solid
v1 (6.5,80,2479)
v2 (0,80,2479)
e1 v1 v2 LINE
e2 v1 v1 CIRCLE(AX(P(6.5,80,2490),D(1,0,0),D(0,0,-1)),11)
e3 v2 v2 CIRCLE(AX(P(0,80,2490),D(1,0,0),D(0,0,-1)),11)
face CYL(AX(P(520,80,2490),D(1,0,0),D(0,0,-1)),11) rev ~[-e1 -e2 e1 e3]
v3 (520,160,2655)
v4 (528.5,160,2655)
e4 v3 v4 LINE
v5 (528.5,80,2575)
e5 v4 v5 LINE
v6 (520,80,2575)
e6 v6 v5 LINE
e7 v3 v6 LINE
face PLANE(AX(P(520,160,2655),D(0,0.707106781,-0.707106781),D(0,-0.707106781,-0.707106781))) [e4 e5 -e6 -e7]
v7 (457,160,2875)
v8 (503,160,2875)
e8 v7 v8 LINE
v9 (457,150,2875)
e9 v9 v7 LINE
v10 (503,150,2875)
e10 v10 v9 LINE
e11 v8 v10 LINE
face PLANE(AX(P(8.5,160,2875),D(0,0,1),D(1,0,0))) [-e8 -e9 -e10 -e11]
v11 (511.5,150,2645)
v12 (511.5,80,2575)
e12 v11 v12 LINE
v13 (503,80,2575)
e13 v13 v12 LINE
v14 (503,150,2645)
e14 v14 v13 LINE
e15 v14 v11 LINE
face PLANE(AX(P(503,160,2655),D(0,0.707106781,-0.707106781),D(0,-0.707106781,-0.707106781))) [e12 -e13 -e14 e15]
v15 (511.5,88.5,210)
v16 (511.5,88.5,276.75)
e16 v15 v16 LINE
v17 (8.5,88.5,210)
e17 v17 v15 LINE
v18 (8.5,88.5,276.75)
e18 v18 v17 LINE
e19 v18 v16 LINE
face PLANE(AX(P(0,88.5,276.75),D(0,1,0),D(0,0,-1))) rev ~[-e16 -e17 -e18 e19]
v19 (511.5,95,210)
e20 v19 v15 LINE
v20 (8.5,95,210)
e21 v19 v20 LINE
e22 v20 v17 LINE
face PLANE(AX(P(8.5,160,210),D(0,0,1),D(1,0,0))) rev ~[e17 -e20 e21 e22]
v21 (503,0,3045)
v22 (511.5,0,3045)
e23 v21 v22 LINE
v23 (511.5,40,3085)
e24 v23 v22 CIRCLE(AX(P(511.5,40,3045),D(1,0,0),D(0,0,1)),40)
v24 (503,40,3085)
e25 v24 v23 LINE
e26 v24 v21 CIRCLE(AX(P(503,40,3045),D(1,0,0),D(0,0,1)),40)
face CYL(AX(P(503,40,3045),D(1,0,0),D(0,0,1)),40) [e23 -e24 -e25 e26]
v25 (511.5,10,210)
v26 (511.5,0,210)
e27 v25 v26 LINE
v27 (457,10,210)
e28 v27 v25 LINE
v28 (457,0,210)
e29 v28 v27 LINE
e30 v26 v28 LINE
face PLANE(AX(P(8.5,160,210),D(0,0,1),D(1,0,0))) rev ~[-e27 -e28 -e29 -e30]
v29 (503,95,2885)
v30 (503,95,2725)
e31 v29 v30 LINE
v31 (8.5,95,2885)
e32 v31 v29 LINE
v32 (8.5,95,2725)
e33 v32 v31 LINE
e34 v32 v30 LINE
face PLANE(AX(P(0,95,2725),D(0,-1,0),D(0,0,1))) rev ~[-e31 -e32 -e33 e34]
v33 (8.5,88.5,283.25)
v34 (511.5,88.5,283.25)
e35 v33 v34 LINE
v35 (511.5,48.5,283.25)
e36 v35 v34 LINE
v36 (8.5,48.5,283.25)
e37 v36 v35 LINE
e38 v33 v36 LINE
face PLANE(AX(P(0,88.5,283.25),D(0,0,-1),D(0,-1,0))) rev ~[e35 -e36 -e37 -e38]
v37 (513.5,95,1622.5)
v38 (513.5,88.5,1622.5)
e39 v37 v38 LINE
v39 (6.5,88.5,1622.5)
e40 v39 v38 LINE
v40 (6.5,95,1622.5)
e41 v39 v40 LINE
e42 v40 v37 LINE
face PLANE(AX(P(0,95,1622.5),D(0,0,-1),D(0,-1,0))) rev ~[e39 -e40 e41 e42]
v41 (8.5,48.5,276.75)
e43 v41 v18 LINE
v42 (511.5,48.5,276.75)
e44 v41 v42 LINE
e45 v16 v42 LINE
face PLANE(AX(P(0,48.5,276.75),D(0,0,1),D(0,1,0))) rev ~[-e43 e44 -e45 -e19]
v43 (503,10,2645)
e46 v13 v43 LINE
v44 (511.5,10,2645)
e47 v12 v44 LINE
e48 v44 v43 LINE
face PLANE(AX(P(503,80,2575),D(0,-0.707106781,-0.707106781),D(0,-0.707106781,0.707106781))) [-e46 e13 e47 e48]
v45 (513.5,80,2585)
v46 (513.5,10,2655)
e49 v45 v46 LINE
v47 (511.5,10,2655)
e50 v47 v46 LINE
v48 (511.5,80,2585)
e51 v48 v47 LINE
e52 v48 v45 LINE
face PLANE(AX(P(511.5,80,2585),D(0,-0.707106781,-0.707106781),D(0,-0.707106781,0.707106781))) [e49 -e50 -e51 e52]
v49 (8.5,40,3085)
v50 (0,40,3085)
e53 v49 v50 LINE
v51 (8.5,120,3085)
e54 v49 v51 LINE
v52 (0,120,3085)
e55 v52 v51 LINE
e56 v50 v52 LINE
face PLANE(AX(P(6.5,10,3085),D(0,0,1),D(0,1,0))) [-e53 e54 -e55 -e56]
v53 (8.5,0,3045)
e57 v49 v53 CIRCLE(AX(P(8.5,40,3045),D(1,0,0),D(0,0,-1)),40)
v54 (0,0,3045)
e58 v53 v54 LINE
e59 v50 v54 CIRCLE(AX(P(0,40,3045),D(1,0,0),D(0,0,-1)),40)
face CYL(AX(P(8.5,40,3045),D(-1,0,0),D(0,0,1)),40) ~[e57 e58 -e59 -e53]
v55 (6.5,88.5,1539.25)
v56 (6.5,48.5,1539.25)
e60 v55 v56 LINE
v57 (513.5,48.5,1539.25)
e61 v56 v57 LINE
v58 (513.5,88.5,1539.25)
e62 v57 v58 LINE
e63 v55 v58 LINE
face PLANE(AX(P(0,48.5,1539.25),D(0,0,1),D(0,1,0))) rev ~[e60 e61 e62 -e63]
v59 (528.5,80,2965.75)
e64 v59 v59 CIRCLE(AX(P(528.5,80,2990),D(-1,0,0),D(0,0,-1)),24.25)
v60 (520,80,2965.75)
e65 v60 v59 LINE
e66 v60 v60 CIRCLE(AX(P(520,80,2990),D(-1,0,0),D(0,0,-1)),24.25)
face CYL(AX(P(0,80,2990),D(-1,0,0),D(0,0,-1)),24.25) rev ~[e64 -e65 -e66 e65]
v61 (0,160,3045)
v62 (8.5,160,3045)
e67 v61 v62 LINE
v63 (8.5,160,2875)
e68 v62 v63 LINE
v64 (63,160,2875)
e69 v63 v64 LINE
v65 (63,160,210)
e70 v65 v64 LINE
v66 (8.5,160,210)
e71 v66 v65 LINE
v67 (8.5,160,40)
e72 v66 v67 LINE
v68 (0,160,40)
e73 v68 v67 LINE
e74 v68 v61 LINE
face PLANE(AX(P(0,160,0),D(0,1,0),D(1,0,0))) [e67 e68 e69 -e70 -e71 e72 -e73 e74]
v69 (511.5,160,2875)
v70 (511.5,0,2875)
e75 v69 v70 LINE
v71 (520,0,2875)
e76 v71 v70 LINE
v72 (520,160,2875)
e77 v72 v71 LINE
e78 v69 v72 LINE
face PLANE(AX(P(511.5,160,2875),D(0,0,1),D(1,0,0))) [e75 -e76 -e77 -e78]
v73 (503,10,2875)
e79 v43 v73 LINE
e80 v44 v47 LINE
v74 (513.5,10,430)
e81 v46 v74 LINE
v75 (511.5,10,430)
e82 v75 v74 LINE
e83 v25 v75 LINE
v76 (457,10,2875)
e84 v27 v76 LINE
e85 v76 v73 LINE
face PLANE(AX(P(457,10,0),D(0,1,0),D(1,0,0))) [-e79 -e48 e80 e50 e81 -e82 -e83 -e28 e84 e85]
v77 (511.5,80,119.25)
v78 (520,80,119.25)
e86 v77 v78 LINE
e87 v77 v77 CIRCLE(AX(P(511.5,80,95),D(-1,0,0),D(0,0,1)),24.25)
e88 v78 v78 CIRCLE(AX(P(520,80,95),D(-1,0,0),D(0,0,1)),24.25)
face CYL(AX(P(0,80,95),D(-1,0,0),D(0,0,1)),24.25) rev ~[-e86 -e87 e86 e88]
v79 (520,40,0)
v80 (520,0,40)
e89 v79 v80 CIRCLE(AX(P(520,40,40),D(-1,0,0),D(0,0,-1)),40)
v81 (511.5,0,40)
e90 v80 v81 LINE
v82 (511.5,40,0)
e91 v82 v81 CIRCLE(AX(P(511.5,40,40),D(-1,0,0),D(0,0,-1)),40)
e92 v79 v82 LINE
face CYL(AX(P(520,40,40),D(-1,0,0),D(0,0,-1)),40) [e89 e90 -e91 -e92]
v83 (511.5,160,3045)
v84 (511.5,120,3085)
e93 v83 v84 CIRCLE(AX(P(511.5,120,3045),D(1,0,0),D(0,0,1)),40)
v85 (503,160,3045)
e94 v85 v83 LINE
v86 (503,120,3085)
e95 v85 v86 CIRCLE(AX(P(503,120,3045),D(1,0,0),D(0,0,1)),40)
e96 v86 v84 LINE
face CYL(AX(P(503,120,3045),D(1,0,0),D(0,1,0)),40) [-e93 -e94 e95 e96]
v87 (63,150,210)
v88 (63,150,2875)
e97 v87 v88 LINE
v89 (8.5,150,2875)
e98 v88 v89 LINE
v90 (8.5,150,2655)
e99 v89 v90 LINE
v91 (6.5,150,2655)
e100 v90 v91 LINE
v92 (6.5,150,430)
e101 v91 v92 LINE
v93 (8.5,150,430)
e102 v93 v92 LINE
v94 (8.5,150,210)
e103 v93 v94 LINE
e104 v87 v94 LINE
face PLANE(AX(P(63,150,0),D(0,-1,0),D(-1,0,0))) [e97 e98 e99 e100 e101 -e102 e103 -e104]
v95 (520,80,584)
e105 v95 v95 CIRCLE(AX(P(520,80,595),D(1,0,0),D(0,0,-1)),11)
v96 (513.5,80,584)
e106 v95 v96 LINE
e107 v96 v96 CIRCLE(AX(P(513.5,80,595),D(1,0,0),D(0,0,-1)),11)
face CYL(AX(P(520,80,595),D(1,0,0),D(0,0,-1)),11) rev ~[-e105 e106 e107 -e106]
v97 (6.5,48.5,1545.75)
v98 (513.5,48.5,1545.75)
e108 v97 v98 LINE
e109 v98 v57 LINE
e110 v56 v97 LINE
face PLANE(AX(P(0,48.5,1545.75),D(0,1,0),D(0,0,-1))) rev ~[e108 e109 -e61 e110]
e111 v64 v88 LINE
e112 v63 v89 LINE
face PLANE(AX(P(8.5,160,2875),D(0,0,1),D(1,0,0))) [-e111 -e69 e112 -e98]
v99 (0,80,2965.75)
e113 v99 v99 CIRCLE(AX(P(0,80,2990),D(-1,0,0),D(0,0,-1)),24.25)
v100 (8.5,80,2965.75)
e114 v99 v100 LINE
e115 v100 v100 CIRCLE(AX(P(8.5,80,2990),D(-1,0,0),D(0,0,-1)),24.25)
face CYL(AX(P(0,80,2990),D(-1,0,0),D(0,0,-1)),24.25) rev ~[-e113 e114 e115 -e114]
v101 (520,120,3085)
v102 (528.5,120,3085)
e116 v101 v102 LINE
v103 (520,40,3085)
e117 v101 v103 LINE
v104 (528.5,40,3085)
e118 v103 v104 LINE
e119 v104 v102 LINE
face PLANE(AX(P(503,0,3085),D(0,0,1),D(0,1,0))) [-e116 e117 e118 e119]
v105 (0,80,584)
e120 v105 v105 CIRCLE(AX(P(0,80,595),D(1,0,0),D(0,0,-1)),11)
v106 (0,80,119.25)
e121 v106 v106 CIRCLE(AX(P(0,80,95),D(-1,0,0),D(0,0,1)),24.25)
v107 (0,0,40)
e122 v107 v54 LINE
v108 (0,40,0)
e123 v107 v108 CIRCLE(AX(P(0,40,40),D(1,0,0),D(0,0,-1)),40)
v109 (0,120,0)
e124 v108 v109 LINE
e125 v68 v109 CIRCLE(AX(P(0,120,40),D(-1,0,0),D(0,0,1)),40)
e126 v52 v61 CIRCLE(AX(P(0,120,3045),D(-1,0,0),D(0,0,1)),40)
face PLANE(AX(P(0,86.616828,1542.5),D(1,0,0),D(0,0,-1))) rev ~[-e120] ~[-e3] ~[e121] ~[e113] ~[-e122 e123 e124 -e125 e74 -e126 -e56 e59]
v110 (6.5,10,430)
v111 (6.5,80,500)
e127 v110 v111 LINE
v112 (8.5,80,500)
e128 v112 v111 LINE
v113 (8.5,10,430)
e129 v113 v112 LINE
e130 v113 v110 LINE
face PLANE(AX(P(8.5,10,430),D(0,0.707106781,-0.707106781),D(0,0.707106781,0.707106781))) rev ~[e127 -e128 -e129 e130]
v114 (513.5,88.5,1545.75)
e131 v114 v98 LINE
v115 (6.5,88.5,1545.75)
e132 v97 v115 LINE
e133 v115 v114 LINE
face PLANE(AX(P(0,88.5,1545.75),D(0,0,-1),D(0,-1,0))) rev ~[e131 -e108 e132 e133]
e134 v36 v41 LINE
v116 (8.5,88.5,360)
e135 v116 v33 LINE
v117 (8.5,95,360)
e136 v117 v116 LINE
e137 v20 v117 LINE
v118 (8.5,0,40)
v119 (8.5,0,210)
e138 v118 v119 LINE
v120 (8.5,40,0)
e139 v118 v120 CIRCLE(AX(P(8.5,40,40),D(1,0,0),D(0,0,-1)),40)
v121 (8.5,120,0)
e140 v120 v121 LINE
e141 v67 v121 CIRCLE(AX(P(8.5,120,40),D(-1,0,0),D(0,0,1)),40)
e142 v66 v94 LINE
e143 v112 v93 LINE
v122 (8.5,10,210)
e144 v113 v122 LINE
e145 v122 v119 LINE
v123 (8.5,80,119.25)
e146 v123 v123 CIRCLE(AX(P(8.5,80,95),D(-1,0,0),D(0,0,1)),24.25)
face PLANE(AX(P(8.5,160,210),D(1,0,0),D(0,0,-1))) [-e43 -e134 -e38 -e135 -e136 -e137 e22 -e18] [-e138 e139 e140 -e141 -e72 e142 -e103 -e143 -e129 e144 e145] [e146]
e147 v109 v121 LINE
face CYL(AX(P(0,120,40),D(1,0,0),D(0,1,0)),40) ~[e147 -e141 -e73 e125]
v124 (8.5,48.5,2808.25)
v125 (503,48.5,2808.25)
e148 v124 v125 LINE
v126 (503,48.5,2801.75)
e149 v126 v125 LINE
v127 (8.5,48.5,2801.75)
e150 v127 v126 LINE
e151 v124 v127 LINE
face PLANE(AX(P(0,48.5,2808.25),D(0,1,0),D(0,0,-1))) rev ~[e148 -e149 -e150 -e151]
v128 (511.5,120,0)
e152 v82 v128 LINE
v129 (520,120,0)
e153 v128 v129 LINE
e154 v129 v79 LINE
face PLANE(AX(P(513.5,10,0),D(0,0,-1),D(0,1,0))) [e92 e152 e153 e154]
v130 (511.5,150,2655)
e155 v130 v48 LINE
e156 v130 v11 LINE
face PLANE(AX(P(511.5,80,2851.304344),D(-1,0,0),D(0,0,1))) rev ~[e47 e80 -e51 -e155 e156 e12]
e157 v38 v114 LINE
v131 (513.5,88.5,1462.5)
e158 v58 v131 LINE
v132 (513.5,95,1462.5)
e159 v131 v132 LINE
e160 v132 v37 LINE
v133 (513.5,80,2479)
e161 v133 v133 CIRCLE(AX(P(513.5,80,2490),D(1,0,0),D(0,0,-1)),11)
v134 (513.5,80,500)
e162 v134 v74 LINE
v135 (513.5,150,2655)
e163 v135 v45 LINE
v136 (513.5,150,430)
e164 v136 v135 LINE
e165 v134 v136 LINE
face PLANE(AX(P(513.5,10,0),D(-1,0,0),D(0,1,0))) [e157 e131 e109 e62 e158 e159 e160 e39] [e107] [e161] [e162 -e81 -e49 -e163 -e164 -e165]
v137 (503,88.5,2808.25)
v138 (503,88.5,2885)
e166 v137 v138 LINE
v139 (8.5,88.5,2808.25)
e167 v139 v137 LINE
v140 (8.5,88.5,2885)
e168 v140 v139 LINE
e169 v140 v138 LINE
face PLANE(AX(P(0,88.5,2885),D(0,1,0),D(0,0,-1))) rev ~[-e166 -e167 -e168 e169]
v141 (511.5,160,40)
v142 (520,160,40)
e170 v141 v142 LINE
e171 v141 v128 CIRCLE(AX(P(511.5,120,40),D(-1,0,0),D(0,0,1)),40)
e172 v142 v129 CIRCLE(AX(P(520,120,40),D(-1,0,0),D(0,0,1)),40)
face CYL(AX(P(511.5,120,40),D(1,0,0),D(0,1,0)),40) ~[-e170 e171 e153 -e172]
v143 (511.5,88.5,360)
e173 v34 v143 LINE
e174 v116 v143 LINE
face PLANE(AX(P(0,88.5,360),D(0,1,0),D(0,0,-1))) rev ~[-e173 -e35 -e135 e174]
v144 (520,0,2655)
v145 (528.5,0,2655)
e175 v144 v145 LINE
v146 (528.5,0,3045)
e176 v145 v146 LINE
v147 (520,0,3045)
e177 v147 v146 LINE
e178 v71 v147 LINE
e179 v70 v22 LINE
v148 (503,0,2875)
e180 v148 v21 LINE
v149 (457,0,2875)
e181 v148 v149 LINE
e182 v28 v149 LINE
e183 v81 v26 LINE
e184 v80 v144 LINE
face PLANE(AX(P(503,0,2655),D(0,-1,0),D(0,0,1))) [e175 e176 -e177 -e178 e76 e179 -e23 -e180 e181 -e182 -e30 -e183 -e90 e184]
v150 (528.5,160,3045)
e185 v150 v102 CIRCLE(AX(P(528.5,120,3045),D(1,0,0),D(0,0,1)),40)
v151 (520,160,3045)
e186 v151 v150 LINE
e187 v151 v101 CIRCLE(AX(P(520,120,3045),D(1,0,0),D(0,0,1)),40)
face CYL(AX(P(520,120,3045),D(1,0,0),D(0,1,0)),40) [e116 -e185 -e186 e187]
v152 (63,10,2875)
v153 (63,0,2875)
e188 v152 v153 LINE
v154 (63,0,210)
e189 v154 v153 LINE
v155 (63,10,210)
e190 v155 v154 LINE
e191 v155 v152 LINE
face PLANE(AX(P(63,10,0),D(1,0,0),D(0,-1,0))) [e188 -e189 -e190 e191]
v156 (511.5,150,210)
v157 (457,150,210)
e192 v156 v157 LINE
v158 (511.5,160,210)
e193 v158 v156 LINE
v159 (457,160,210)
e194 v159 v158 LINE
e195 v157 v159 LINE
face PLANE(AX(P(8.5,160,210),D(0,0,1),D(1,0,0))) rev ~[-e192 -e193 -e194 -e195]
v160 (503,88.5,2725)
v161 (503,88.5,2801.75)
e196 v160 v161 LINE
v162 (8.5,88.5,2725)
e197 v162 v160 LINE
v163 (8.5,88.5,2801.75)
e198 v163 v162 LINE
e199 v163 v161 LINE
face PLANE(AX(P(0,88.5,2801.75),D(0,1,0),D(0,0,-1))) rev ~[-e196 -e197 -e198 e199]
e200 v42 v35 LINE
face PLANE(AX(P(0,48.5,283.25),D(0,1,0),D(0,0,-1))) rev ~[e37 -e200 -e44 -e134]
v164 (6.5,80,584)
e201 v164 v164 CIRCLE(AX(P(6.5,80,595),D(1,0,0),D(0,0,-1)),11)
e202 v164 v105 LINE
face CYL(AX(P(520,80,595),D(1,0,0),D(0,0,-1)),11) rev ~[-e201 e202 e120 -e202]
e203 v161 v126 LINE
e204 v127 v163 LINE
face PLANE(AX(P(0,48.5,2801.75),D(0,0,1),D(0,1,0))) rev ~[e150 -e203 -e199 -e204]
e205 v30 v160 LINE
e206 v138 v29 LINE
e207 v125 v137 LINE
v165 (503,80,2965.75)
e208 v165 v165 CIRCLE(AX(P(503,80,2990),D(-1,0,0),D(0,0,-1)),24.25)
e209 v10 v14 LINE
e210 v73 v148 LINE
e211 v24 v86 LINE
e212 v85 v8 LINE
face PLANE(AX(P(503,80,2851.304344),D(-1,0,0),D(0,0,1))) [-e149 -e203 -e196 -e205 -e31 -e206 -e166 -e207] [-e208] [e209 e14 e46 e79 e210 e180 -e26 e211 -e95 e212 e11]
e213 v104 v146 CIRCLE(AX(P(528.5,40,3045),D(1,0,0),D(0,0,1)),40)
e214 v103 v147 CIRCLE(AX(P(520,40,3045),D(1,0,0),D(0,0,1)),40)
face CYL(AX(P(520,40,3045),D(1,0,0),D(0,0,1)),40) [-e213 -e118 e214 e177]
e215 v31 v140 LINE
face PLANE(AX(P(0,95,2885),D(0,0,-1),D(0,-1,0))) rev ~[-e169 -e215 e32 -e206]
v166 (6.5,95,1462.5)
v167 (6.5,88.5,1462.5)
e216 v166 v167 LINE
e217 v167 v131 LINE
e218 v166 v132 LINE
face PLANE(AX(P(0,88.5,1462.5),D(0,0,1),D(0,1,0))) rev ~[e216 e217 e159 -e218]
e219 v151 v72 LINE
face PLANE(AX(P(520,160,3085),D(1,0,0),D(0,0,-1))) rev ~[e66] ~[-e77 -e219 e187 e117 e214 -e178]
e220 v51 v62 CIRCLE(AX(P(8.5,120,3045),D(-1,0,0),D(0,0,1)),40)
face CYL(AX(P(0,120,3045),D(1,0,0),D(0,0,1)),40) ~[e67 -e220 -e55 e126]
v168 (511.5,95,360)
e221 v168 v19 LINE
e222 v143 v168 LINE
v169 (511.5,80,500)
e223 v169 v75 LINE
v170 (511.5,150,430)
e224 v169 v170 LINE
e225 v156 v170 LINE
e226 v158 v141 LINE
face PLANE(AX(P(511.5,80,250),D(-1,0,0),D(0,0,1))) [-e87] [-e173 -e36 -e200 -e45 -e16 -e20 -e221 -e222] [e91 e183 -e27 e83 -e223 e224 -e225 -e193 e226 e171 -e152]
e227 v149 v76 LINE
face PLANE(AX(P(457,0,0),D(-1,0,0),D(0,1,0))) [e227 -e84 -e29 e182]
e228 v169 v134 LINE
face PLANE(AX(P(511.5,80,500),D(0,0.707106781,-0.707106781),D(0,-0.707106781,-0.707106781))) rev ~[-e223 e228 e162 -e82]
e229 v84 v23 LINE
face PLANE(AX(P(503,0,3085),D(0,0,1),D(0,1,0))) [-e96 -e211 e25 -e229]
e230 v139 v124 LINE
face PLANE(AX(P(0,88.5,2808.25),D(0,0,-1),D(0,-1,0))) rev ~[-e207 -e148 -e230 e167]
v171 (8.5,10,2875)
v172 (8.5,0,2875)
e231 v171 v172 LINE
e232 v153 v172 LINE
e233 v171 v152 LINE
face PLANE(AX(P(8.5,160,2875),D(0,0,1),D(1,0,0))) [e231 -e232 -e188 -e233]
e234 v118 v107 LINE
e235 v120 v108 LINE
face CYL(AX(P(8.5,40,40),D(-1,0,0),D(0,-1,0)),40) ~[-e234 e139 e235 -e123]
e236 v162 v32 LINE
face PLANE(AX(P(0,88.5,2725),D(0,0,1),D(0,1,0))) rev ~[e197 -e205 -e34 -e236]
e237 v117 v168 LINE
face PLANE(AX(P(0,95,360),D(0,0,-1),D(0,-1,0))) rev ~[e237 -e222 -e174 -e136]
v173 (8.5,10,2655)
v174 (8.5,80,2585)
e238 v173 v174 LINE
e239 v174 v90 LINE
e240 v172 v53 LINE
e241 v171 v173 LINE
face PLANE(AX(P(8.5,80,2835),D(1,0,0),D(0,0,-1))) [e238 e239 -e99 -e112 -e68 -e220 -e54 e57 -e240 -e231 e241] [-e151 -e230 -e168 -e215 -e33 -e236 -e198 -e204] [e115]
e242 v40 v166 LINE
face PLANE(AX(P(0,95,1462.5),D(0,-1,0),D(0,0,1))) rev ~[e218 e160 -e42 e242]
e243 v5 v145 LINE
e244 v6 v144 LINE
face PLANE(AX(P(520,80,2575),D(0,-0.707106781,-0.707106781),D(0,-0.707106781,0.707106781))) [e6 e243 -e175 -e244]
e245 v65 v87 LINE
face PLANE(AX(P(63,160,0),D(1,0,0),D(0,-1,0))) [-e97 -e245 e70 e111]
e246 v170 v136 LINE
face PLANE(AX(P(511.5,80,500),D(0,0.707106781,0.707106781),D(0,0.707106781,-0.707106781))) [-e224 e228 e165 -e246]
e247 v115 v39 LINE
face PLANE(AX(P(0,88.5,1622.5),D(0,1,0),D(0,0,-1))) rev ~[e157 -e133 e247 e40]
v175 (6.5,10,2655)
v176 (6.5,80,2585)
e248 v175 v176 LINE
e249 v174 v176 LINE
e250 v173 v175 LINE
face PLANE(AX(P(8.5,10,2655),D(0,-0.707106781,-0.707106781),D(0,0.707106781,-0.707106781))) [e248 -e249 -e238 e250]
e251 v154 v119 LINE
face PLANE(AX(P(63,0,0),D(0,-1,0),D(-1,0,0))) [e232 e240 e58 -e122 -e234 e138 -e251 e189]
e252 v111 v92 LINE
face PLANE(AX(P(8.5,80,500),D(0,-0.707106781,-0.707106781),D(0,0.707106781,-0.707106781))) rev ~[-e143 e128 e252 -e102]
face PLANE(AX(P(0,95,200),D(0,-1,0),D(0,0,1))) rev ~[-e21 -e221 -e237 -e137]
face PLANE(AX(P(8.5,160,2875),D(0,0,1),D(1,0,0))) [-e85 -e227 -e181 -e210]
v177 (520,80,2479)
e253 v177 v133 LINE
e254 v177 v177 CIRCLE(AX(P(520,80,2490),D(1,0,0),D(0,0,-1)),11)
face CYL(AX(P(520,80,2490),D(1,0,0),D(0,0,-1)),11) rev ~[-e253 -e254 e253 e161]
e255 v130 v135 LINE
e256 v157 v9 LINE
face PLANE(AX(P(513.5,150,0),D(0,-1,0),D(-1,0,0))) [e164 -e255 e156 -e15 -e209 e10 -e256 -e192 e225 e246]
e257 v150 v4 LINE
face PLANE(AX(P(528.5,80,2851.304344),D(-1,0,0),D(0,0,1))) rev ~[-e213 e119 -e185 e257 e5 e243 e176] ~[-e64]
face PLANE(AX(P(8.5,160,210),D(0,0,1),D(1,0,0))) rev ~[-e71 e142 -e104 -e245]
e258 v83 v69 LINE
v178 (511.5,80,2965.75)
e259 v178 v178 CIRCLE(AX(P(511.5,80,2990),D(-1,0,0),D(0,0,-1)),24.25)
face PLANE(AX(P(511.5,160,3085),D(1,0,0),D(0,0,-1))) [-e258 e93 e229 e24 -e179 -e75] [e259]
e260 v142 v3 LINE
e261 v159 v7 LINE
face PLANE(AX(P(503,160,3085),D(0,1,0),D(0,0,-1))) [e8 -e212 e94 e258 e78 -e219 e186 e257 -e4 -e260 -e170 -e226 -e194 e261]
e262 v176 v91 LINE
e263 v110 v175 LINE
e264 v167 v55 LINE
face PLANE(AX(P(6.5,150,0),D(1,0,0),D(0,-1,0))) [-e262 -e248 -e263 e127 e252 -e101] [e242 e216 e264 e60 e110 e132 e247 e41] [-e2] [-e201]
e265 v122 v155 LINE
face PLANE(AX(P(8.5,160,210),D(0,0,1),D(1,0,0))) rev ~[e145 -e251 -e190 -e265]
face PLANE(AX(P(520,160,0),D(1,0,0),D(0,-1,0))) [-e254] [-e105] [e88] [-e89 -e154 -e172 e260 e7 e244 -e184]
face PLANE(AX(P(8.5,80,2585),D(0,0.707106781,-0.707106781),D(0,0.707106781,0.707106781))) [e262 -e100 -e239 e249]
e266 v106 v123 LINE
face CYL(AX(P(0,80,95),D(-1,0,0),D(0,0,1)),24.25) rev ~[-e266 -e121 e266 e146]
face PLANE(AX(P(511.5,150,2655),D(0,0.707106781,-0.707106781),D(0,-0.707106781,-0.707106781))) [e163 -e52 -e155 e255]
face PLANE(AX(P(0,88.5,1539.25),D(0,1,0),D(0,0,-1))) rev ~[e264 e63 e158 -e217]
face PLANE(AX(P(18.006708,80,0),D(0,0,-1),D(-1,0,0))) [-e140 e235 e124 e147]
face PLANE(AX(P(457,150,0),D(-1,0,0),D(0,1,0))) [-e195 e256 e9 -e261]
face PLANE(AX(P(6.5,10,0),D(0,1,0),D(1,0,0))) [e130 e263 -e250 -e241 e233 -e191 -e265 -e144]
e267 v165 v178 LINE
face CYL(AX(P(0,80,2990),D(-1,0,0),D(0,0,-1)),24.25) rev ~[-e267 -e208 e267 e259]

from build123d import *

# Parameters (mm, degrees)
EXTRUDE_1_DEPTH        = 3085
EXTRUDE_1_2_DEPTH      = 3085
EXTRUDE_3_DEPTH        = 520
SKETCH_6_W             = 503
SKETCH_6_H             = 210
CUT_EXTRUDE_4_DEPTH    = 3133.606741996
PATTERN_LINEAR_1_COUNT = 3
PATTERN_LINEAR_1_PITCH = 1262.5
SKETCH_7_W             = 500
SKETCH_7_H             = 140
EXTRUDE_5_DEPTH        = 2
CUT_EXTRUDE_6_DEPTH    = 2
CUT_EXTRUDE_7_DEPTH    = 2
SKETCH_15_W            = 500
SKETCH_15_H            = 140
EXTRUDE_8_DEPTH        = 2
CUT_EXTRUDE_9_DEPTH    = 2
CUT_EXTRUDE_10_DEPTH   = 2
EXTRUDE_11_DEPTH       = 8.5
PATTERN_LINEAR_2_COUNT = 2
PATTERN_LINEAR_2_PITCH = 17
SKETCH_22_W            = 8.5
SKETCH_22_H            = 210
CUT_EXTRUDE_12_DEPTH   = 3135.028916586
FILLET_1_R             = 40
SKETCH_23_R            = 24.25
CUT_EXTRUDE_13_DEPTH   = 3135.028916586
SKETCH_24_R            = 11
CUT_EXTRUDE_14_DEPTH   = 3133.606741996


with BuildPart() as part:
    # 草图2 → 拉伸1 (new body)
    with BuildSketch(Plane.XY):
        Polygon((0, 0), (0, 160), (63, 160), (63, 150), (6.5, 150), (6.5, 10), (63, 10), (63, 0), align=None)
    extrude(amount=EXTRUDE_1_DEPTH)



with BuildPart() as body_2:
    # 草图2 → Extrude 1 2 (new body)
    with BuildSketch(Plane.XY):
        Polygon((457, 160), (520, 160), (520, 0), (457, 0), (457, 10), (513.5, 10), (513.5, 150), (457, 150), align=None)
    extrude(amount=EXTRUDE_1_2_DEPTH)


with BuildPart() as part_1:
    add(part.part)

    add(body_2.part)  # 拉伸3 merges body 2
    # 草图5 → 拉伸3 (add)
    with BuildSketch(Plane.ZY):
        Polygon((200, 95), (360, 95), (360, 88.5), (283.25, 88.5), (283.25, 48.5), (276.75, 48.5), (276.75, 88.5), (200, 88.5), align=None)
    extrude_3 = extrude(amount=-EXTRUDE_3_DEPTH)

    # 草图6 → 拉伸4 (cut, through all)
    with BuildSketch(Plane(origin=(0, 160, 0), x_dir=(1, 0, 0), z_dir=(0, 1, 0))):
        with Locations((260, -105)):
            Rectangle(SKETCH_6_W, SKETCH_6_H)
        with Locations((260, -2980)):
            Rectangle(SKETCH_6_W, SKETCH_6_H)
    extrude(amount=-CUT_EXTRUDE_4_DEPTH, mode=Mode.SUBTRACT)

    # 阵列(线性)1: 拉伸3 ×3
    with Locations(*[(0, 0, i * PATTERN_LINEAR_1_PITCH) for i in range(1, PATTERN_LINEAR_1_COUNT)]):
        add(extrude_3)

    # 草图7 → 拉伸5 (add)
    with BuildSketch(Plane.ZY.offset(-513.5)):
        with Locations((250, 80)):
            Rectangle(SKETCH_7_W, SKETCH_7_H)
        with Locations((2835, 80)):
            Rectangle(SKETCH_7_W, SKETCH_7_H)
    extrude(amount=EXTRUDE_5_DEPTH)

    # 草图13 → 拉伸6 (cut)
    with BuildSketch(Plane.ZY.offset(-511.5)):
        Polygon((500, 10), (500, 80), (430, 10), align=None)
        Polygon((2585, 150), (2655, 150), (2585, 80), align=None)
    extrude(amount=-CUT_EXTRUDE_6_DEPTH, mode=Mode.SUBTRACT)

    # 草图14 → 拉伸7 (cut)
    with BuildSketch(Plane.ZY.offset(-511.5)):
        Polygon((500, 80), (430, 150), (500, 150), align=None)
        Polygon((2585, 80), (2655, 10), (2585, 10), align=None)
    extrude(amount=-CUT_EXTRUDE_7_DEPTH, mode=Mode.SUBTRACT)

    # 草图15 → 拉伸8 (add)
    with BuildSketch(Plane(origin=(6.5, 0, 0), x_dir=(0, 0, -1), z_dir=(1, 0, 0))):
        with Locations((-2835, 80)):
            Rectangle(SKETCH_15_W, SKETCH_15_H)
        with Locations((-250, 80)):
            Rectangle(SKETCH_15_W, SKETCH_15_H)
    extrude(amount=EXTRUDE_8_DEPTH)

    # 草图16 → 拉伸9 (cut)
    with BuildSketch(Plane(origin=(8.5, 0, 0), x_dir=(0, 0, -1), z_dir=(1, 0, 0))):
        Polygon((-2585, 150), (-2585, 80), (-2655, 150), align=None)
        Polygon((-500, 150), (-500, 80), (-430, 150), align=None)
    extrude(amount=-CUT_EXTRUDE_9_DEPTH, mode=Mode.SUBTRACT)

    # 草图18 → 拉伸10 (cut)
    with BuildSketch(Plane(origin=(8.5, 0, 0), x_dir=(0, 0, -1), z_dir=(1, 0, 0))):
        Polygon((-500, 80), (-500, 10), (-430, 10), align=None)
        Polygon((-2585, 10), (-2655, 10), (-2585, 80), align=None)
    extrude(amount=-CUT_EXTRUDE_10_DEPTH, mode=Mode.SUBTRACT)

    # 草图19 → 拉伸11 (add)
    with BuildSketch(Plane(origin=(520, 0, 0), x_dir=(0, 0, -1), z_dir=(1, 0, 0))):
        Polygon((-3085, 160), (-2655, 160), (-2575, 80), (-2655, 0), (-3085, 0), align=None)
    extrude_11 = extrude(amount=EXTRUDE_11_DEPTH)

    # 阵列(线性)2: 拉伸11 ×2
    with Locations(*[(-i * PATTERN_LINEAR_2_PITCH, 0, 0) for i in range(1, PATTERN_LINEAR_2_COUNT)]):
        add(extrude_11)

    # 草图22 → 拉伸12 (cut, through all)
    with BuildSketch(Plane(origin=(0, 160, 0), x_dir=(1, 0, 0), z_dir=(0, 1, 0))):
        with Locations((515.75, -2980)):
            Rectangle(SKETCH_22_W, SKETCH_22_H)
    extrude(amount=-CUT_EXTRUDE_12_DEPTH, mode=Mode.SUBTRACT)

    # 圆角1
    fillet_1_edges = [part_1.edges().sort_by_distance(p)[0] for p in [
        (4.25, 0, 0),
        (507.25, 0, 3085),
        (4.25, 160, 3085),
        (4.25, 0, 3085),
        (507.25, 160, 3085),
        (524.25, 0, 3085),
        (515.75, 160, 0),
        (524.25, 160, 3085),
        (515.75, 0, 0),
        (4.25, 160, 0),
    ]]
    fillet(fillet_1_edges, radius=FILLET_1_R)

    # 草图23 → 拉伸13 (cut, through all)
    with BuildSketch(Plane.ZY):
        with Locations((95, 80)):
            Circle(SKETCH_23_R)
        with Locations(Location((2990, 80, 0), (0, 0, 180))):
            Circle(SKETCH_23_R)
    extrude(amount=-CUT_EXTRUDE_13_DEPTH, mode=Mode.SUBTRACT)

    # 草图24 → 拉伸14 (cut, through all)
    with BuildSketch(Plane(origin=(520, 0, 0), x_dir=(0, 0, -1), z_dir=(1, 0, 0))):
        with Locations((-2490, 80)):
            Circle(SKETCH_24_R)
        with Locations((-595, 80)):
            Circle(SKETCH_24_R)
    extrude(amount=-CUT_EXTRUDE_14_DEPTH, mode=Mode.SUBTRACT)


solid = part_1.part
